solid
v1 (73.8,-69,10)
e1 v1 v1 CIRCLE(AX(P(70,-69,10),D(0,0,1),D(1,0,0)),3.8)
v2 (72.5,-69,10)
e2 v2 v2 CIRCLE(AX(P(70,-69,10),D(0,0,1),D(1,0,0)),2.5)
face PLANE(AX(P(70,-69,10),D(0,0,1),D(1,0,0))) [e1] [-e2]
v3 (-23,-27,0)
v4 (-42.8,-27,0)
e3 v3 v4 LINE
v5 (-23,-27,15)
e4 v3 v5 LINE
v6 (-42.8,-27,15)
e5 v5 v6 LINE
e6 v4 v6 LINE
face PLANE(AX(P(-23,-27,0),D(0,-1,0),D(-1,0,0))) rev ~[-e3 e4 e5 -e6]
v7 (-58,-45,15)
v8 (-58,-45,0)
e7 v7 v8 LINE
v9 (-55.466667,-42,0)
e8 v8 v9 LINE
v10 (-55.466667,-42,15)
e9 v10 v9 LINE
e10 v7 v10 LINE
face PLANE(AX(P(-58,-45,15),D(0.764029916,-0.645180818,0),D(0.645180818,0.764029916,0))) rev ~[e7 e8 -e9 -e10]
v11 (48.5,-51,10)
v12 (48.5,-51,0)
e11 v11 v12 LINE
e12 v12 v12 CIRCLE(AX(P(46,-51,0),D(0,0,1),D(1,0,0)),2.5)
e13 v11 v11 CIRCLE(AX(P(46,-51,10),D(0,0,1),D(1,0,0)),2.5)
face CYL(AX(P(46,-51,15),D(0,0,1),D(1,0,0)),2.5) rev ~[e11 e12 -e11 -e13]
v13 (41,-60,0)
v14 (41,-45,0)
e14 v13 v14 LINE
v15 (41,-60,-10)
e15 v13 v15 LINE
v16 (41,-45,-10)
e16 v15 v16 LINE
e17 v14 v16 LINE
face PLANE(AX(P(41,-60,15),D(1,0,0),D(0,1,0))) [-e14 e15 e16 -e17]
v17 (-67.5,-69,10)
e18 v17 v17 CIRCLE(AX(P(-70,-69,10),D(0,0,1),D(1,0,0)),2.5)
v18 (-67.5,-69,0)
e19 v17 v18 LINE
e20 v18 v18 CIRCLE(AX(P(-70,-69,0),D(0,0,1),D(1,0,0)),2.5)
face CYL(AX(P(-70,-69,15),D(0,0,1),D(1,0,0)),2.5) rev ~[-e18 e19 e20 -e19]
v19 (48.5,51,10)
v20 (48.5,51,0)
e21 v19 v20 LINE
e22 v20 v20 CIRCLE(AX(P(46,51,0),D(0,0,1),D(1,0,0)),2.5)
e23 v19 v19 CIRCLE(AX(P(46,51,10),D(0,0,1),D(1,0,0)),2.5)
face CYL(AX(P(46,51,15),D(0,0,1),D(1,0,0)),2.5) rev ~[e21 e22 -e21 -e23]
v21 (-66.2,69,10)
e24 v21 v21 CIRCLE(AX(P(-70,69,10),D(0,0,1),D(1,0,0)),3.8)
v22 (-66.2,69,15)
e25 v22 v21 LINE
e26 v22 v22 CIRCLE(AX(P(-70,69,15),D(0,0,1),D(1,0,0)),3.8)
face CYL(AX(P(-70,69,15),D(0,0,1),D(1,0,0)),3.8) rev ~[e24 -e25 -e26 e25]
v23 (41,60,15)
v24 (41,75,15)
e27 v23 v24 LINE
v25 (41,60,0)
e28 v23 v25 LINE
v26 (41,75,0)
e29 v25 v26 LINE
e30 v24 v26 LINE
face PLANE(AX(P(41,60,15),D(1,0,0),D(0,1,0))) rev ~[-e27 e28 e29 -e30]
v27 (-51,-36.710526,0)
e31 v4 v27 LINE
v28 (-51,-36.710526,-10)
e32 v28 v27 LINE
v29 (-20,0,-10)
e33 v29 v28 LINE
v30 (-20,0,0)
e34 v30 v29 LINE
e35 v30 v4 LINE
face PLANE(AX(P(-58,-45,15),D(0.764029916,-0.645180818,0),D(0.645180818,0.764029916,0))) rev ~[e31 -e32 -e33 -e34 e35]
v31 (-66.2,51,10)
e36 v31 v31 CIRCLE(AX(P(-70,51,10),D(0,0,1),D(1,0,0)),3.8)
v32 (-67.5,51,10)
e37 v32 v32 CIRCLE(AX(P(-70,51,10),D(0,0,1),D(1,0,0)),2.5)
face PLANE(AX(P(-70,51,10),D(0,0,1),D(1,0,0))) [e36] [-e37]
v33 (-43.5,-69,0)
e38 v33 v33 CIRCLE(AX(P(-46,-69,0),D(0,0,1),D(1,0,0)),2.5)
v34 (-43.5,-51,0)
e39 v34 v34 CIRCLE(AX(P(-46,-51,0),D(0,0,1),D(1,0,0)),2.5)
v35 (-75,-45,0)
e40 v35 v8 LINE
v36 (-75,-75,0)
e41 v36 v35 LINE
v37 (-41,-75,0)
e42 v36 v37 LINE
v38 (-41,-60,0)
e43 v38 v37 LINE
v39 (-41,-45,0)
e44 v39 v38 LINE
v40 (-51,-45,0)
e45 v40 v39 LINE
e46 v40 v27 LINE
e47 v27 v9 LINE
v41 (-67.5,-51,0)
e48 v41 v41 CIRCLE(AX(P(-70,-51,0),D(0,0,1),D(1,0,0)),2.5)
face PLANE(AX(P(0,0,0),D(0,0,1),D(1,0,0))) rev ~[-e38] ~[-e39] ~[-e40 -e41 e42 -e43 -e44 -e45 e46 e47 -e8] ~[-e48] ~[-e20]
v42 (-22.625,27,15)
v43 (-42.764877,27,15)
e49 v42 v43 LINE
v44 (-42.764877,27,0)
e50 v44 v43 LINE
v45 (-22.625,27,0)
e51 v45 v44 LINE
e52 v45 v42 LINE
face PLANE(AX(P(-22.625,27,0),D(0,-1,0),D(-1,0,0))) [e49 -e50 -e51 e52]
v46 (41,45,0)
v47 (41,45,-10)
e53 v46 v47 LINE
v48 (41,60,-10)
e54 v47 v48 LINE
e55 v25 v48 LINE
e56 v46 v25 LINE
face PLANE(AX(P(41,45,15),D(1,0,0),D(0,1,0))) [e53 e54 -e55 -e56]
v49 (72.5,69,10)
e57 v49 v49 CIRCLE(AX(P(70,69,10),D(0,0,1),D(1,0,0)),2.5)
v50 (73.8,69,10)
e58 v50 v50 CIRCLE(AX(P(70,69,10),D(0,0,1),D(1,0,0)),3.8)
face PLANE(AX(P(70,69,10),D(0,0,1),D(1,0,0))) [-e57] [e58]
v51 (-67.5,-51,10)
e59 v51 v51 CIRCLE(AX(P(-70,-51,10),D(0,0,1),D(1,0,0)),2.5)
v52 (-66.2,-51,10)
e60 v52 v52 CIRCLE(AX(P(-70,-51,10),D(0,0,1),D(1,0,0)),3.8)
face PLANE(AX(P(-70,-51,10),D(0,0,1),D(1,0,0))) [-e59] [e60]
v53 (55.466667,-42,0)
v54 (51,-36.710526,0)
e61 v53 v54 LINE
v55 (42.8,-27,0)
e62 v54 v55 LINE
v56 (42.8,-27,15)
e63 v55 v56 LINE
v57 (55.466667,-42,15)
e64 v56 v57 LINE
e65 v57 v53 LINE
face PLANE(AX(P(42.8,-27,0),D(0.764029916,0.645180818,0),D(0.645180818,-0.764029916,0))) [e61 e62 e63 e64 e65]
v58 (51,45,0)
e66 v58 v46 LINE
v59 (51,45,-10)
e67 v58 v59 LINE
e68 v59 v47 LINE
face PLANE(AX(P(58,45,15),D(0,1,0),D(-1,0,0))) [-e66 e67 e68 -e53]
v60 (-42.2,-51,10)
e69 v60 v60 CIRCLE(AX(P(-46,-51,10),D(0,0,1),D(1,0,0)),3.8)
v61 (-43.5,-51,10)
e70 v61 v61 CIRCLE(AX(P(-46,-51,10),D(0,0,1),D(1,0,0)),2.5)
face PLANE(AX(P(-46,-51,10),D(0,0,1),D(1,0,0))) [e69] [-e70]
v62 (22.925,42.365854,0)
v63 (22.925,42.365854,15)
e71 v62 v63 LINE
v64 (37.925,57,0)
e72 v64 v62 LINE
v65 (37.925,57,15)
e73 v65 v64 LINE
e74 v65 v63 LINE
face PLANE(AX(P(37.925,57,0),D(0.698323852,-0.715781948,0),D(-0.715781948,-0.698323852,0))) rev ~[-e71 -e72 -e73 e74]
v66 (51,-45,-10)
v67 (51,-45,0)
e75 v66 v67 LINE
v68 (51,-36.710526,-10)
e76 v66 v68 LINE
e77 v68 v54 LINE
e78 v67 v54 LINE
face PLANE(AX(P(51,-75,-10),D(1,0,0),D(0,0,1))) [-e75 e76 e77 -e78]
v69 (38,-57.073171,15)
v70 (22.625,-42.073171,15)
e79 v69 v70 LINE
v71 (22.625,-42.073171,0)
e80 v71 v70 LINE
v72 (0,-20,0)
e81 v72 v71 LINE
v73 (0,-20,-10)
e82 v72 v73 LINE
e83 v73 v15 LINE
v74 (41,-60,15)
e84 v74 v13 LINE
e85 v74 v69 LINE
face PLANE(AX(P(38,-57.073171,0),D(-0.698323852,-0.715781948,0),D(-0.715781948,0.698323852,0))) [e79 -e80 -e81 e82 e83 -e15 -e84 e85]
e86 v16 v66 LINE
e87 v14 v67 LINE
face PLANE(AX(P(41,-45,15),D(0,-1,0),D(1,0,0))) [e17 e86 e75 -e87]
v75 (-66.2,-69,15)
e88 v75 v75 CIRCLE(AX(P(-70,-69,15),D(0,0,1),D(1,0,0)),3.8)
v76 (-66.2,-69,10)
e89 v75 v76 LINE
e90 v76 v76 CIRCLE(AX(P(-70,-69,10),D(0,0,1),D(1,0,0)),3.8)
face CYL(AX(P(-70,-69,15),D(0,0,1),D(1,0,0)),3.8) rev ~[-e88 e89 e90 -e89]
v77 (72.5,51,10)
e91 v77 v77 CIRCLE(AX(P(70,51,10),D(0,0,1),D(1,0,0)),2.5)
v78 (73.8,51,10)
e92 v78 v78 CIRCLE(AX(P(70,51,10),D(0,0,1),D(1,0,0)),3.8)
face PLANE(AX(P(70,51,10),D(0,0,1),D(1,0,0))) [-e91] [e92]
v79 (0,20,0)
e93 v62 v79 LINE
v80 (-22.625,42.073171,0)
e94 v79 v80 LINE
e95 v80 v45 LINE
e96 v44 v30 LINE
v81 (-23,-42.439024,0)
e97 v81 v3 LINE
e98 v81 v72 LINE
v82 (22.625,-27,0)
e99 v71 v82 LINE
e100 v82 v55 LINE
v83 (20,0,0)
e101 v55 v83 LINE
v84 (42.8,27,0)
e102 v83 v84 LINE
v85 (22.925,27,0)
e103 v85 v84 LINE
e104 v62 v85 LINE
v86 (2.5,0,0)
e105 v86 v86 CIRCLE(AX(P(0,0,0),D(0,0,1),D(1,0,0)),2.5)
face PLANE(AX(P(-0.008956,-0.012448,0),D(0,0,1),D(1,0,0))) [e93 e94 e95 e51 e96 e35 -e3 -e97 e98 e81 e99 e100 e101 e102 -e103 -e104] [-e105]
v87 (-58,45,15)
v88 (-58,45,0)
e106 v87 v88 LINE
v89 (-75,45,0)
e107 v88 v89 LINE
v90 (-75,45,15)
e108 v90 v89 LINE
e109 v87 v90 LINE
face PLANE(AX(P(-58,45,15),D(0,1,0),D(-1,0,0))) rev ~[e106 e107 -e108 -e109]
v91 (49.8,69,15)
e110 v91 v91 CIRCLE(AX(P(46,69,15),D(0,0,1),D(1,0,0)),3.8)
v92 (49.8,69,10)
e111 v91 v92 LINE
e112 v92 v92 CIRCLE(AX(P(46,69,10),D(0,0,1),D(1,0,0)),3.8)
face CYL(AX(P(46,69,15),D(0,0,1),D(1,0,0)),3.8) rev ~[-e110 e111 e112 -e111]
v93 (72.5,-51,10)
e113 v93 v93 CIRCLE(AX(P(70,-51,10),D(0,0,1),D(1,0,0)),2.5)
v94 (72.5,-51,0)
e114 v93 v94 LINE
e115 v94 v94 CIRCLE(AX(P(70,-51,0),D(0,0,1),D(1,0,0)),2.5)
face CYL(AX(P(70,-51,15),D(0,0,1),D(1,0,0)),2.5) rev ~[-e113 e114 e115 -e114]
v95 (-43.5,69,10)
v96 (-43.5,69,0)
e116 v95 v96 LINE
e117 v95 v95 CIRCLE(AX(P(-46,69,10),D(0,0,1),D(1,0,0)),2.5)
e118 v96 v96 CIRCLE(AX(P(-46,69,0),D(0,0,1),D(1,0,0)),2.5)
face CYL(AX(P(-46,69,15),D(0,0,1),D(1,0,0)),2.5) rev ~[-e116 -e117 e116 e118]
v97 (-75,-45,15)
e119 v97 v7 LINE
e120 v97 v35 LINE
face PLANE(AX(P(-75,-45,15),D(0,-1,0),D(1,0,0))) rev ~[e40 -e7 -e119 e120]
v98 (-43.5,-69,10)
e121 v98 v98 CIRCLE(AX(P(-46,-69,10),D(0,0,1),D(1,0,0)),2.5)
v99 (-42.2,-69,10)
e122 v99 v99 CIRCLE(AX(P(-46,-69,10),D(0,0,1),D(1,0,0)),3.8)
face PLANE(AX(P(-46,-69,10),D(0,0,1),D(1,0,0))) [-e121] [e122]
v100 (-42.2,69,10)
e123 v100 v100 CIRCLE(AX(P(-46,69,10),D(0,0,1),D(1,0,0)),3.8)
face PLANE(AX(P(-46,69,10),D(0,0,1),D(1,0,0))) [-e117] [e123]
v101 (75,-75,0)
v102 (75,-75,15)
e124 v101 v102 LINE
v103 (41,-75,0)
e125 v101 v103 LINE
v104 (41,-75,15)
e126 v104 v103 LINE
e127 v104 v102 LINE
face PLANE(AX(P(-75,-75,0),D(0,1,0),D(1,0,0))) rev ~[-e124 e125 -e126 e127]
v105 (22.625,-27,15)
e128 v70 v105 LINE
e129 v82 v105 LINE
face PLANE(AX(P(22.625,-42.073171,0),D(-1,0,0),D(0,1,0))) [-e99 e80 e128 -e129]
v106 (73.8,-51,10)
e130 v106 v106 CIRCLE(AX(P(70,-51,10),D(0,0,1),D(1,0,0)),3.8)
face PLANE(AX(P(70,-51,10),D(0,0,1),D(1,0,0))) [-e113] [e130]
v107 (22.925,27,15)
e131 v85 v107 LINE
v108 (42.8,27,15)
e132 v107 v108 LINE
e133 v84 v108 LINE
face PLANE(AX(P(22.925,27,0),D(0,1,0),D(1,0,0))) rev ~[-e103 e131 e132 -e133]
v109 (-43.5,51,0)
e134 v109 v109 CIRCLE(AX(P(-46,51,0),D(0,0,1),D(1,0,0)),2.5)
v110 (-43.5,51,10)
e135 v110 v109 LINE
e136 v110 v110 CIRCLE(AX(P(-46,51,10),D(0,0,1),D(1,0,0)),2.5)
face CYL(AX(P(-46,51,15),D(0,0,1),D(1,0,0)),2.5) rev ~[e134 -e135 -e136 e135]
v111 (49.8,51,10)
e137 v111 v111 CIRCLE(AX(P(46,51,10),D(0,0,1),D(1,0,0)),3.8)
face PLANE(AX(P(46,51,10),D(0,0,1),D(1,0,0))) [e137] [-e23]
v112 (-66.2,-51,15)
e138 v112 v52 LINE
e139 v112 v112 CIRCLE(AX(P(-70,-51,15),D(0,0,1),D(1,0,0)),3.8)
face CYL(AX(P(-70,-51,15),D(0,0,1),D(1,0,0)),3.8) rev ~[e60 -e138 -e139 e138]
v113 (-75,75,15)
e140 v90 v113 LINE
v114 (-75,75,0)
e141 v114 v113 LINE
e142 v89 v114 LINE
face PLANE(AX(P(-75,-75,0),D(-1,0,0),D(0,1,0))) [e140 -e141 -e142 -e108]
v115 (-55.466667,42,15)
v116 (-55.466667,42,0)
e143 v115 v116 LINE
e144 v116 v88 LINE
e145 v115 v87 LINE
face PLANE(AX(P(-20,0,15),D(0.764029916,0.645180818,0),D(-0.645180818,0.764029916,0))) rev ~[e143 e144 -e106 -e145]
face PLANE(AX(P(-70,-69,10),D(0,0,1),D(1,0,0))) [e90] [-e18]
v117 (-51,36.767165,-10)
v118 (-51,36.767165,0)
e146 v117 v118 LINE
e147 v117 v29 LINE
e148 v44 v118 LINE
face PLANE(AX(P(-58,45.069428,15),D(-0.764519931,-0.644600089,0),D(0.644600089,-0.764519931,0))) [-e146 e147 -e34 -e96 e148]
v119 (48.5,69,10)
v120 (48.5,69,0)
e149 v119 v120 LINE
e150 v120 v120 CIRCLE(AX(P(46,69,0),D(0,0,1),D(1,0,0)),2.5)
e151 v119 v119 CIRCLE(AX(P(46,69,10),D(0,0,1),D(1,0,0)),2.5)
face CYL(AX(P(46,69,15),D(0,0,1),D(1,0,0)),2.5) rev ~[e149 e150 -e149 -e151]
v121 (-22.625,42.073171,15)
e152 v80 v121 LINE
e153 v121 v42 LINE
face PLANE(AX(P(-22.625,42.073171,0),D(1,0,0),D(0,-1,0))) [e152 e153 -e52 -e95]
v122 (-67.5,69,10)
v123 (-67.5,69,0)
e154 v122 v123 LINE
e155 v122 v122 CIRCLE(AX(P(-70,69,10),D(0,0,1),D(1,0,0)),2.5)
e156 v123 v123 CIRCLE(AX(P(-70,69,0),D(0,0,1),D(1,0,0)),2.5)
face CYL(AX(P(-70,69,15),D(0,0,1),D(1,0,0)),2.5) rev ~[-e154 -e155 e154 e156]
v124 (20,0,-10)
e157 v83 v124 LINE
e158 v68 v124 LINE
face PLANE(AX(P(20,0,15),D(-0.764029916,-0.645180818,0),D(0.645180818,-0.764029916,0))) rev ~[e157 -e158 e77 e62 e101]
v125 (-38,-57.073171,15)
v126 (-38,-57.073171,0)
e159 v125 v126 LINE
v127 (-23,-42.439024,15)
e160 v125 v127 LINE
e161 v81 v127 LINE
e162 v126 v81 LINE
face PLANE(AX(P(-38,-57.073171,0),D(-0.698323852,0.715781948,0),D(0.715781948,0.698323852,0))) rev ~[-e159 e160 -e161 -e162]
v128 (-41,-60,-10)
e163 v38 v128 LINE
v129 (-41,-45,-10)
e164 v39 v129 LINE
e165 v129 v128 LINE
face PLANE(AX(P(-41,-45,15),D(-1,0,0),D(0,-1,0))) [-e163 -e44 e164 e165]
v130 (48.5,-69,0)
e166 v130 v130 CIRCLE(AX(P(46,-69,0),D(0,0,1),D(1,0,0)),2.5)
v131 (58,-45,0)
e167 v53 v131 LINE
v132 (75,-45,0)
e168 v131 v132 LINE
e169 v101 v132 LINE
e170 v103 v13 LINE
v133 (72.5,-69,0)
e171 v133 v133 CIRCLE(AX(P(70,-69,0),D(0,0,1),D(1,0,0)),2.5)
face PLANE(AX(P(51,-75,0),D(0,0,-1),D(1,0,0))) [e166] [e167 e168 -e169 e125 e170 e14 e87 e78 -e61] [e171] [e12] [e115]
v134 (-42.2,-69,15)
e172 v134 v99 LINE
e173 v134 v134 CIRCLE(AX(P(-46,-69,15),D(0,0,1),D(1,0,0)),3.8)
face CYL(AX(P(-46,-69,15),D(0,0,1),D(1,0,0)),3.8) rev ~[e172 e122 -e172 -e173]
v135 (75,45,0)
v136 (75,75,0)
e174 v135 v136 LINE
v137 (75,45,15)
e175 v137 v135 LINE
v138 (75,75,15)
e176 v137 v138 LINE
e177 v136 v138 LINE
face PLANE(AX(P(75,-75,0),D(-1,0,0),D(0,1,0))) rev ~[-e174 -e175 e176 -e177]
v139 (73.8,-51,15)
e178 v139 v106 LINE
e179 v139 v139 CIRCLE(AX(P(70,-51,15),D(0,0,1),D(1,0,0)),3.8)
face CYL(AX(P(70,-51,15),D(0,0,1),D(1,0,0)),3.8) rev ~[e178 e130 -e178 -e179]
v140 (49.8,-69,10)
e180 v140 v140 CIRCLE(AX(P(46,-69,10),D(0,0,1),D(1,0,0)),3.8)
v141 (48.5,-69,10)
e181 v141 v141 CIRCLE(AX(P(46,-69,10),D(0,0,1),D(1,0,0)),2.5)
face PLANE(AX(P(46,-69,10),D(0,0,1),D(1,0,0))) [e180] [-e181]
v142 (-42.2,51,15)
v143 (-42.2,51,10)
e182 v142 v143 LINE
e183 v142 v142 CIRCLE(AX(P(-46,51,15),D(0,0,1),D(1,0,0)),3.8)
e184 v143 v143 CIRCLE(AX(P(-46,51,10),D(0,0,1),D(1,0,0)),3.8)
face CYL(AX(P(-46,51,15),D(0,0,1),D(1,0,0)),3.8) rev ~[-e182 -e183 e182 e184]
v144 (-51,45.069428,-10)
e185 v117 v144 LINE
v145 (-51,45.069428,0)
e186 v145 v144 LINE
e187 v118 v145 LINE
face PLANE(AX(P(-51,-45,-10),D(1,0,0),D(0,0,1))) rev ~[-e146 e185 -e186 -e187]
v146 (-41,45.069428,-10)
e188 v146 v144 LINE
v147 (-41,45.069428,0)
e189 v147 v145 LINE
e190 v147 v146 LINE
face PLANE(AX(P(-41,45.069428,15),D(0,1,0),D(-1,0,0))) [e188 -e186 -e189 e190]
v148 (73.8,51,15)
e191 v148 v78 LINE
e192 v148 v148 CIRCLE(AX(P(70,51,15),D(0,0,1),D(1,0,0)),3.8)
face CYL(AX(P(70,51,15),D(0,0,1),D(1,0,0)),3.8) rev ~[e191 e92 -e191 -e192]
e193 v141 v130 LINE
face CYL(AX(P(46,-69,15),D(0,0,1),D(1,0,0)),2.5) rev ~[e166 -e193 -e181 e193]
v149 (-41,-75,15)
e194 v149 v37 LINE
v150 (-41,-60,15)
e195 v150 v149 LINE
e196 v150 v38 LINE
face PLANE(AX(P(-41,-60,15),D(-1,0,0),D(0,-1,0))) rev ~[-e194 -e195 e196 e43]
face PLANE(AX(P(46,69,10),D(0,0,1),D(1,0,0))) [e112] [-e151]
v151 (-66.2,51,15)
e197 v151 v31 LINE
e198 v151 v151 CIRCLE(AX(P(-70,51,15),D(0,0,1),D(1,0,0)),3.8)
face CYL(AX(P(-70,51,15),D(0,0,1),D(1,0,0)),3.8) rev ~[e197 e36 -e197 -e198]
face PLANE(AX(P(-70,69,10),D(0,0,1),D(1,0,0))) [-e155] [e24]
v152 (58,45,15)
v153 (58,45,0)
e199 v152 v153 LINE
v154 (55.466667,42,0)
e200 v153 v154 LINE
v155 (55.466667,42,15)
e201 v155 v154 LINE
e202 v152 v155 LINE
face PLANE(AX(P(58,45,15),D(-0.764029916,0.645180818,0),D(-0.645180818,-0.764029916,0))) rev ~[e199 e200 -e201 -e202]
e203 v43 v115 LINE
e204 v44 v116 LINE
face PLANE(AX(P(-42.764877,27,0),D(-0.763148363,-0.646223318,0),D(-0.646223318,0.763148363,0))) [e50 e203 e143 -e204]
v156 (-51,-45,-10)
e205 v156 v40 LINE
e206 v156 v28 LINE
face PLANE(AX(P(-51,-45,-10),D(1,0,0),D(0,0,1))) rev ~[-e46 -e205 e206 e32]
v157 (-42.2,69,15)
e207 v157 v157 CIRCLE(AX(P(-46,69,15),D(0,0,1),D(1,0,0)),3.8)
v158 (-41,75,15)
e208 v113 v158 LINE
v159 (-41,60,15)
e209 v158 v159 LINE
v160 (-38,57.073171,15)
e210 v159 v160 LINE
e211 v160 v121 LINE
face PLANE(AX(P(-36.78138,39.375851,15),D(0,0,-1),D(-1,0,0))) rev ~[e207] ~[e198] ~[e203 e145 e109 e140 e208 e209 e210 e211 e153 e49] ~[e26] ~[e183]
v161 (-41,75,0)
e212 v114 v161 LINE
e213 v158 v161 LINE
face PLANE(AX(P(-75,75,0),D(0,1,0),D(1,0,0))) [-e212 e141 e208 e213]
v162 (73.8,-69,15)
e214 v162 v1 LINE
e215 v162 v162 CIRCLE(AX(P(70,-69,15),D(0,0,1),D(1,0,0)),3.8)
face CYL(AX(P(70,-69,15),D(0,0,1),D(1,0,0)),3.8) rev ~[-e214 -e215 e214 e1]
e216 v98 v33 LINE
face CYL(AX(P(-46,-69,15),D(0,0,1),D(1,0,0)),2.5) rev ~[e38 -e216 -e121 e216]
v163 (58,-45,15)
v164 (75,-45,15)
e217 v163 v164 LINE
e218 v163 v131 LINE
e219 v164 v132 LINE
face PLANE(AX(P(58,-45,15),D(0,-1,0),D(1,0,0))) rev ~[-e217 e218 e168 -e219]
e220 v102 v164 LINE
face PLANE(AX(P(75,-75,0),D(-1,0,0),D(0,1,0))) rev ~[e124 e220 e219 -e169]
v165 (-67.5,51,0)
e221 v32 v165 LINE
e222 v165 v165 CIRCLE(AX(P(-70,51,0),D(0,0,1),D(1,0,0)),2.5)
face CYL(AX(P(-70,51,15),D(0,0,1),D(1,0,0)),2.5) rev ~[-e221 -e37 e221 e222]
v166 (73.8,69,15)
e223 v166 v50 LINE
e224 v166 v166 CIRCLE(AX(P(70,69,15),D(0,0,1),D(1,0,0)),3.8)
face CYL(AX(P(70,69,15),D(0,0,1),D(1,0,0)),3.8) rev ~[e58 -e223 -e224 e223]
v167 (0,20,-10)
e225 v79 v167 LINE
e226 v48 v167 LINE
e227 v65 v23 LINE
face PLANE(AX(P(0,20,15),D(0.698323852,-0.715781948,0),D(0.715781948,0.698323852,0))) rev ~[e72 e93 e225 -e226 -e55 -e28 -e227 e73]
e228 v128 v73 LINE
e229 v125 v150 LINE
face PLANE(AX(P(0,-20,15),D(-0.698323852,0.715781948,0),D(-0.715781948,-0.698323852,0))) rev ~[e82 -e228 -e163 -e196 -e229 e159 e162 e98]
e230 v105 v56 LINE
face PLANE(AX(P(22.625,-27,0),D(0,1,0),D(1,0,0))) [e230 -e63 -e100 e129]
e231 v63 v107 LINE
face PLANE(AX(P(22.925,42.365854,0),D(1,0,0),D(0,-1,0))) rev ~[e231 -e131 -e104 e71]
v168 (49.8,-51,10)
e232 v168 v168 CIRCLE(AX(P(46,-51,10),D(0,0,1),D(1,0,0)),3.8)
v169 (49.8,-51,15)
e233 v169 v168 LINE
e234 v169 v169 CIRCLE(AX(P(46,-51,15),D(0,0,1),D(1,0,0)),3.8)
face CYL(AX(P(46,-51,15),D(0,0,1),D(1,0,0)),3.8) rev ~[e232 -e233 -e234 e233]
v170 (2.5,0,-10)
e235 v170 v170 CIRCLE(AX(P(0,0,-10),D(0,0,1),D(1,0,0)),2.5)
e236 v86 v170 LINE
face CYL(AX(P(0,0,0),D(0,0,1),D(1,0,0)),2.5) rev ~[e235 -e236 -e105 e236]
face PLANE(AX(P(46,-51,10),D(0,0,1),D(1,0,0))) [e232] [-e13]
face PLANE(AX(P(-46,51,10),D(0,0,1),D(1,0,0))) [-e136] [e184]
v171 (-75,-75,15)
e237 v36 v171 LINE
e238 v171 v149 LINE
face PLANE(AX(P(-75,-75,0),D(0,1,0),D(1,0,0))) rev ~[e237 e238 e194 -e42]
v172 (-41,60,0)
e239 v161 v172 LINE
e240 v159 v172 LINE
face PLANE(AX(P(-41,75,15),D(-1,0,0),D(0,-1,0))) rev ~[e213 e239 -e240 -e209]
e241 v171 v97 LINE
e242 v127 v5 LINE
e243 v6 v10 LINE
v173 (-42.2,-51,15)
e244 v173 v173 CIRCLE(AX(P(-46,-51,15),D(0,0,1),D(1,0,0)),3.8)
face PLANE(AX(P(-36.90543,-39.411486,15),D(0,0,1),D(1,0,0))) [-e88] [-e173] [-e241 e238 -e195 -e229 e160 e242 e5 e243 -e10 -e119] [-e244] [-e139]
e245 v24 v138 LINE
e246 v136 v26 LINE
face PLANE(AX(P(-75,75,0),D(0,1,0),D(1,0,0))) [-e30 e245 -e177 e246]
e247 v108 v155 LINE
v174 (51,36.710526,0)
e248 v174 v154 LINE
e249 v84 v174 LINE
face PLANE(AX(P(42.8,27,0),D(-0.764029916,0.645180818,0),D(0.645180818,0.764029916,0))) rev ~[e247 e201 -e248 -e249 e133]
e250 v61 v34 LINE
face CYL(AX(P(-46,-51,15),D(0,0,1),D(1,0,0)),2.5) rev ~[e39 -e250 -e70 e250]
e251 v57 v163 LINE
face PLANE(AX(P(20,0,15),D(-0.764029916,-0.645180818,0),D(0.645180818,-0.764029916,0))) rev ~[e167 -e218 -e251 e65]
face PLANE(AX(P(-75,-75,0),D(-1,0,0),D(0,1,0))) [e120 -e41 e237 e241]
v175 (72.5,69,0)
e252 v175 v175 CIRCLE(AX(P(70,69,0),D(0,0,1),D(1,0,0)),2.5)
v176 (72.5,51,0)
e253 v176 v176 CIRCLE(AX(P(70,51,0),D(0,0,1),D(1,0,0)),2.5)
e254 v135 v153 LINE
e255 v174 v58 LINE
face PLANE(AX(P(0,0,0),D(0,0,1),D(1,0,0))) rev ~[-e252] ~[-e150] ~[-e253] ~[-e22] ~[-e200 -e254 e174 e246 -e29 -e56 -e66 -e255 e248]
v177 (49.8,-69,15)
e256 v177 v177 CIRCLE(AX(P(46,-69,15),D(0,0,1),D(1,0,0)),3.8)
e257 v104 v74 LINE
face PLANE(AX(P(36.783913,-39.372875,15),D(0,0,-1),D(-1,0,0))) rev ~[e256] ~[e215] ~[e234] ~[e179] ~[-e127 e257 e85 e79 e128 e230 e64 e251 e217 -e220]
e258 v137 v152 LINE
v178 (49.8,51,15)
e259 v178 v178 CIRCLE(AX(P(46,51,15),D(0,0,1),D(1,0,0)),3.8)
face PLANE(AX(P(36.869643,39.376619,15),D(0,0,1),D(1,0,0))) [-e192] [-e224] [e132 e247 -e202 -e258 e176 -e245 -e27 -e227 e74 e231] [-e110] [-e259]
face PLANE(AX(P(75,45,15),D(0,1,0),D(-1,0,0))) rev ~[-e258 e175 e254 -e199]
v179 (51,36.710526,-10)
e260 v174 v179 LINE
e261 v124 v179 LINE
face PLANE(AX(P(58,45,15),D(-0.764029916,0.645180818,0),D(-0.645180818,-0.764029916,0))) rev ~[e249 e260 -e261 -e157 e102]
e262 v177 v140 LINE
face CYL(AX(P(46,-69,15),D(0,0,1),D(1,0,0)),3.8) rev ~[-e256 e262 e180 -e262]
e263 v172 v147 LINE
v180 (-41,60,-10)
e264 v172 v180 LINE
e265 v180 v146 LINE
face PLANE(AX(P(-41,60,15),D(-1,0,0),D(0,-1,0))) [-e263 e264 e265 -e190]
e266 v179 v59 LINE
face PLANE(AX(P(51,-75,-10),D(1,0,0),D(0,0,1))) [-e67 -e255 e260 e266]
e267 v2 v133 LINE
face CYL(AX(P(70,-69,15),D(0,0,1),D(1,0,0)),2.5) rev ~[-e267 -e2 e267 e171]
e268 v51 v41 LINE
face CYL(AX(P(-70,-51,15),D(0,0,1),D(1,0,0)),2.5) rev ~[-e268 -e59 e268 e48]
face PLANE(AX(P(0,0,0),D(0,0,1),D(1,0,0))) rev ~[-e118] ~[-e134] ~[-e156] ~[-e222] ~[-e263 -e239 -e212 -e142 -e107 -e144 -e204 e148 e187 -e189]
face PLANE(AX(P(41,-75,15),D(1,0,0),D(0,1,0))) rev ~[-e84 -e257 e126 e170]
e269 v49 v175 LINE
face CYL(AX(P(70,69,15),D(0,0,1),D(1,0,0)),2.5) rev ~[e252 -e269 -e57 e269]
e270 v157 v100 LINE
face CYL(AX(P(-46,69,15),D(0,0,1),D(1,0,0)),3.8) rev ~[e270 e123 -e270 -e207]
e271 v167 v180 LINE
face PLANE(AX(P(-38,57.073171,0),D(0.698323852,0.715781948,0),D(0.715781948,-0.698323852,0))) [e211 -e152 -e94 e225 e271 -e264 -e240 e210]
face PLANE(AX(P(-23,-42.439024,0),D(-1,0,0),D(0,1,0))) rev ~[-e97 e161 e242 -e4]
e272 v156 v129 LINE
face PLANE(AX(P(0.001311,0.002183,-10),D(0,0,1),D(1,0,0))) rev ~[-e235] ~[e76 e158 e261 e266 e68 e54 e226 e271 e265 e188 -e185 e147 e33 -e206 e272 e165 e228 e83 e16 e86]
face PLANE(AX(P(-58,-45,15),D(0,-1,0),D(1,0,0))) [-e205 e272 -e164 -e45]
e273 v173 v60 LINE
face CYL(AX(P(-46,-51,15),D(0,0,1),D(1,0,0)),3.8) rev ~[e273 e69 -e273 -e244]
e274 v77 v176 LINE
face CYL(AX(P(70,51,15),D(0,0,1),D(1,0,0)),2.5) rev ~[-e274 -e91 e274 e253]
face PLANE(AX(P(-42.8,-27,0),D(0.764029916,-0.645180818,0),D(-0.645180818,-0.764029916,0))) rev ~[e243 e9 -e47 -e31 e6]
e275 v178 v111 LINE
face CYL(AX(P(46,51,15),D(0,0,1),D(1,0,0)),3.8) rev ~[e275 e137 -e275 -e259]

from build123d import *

# Parameters (mm, degrees)
SKETCH1_W           = 150
SKETCH1_H           = 150
BOSS_EXTRUDE1_DEPTH = 15
CUT_EXTRUDE1_DEPTH  = 15
BOSS_EXTRUDE2_DEPTH = 25
CUT_EXTRUDE2_DEPTH  = 15
SKETCH5_R           = 2.5
CUT_EXTRUDE3_DEPTH  = 15
SKETCH7_R           = 2.5
CUT_EXTRUDE4_DEPTH  = 15
SKETCH8_R           = 3.8
CUT_EXTRUDE5_DEPTH  = 5
SKETCH10_R          = 2.5
CUT_EXTRUDE6_DEPTH  = 26
SKETCH11_R          = 3.8
CUT_EXTRUDE7_DEPTH  = 5
SKETCH12_R          = 2.5
CUT_EXTRUDE8_DEPTH  = 26
SKETCH13_R          = 3.8
CUT_EXTRUDE9_DEPTH  = 5
SKETCH14_R          = 2.5
CUT_EXTRUDE10_DEPTH = 26
SKETCH15_R          = 3.8
CUT_EXTRUDE11_DEPTH = 5
BOSS_EXTRUDE3_DEPTH = 15
BOSS_EXTRUDE4_DEPTH = 15
BOSS_EXTRUDE5_DEPTH = 15
BOSS_EXTRUDE6_DEPTH = 15
SKETCH20_W          = 7
SKETCH20_H          = 10
CUT_EXTRUDE12_DEPTH = 151
SKETCH21_W          = 7
SKETCH21_H          = 10
CUT_EXTRUDE13_DEPTH = 121


with BuildPart() as part:
    # Sketch1 → Boss-Extrude1 (new body)
    with BuildSketch(Plane.XY):
        Rectangle(SKETCH1_W, SKETCH1_H)
    extrude(amount=BOSS_EXTRUDE1_DEPTH)

    # Sketch2 → Cut-Extrude1 (cut)
    with BuildSketch(Plane.XY.offset(15)):
        Polygon((-41, 75), (-41, 60), (0, 20), (41, 60), (41, 75), align=None)
        Polygon((-20, 0), (-58, 45), (-75, 45), (-75, -45), (-58, -45), align=None)
        Polygon((58, 45), (20, 0), (58, -45), (75, -45), (75, 45), align=None)
        Polygon((41, -60), (0, -20), (-41, -60), (-41, -75), (41, -75), align=None)
    extrude(amount=-CUT_EXTRUDE1_DEPTH, mode=Mode.SUBTRACT)

    # Sketch3 → Boss-Extrude2 (add)
    with BuildSketch(Plane.XY.offset(15)):
        Polygon((-41, 45.069428085), (-58, 45.069428085), (-20, 0), (-58, -45), (-41, -45), (-41, -60), (0, -20), (41, -60), (41, -45), (58, -45), (20, 0), (58, 45), (41, 45), (41, 60), (0, 20), (-41, 60), align=None)
    extrude(amount=-BOSS_EXTRUDE2_DEPTH)

    # Sketch4 → Cut-Extrude2 (cut)
    with BuildSketch(Plane.XY.offset(15)):
        Polygon((-38, -42), (-38, -57.073170732), (0, -20), (38, -57.073170732), (38, -42), (55.466666667, -42), (20, 0), (55.466666667, 42), (37.925, 42), (37.925, 57), (0, 20), (-37.220661316, 56.312840308), (-37.426275475, 56.513439488), (-38, 57.073170732), (-38, 42), (-55.466666667, 42), (-20, 0), (-55.466666667, -42), align=None)
    extrude(amount=-CUT_EXTRUDE2_DEPTH, mode=Mode.SUBTRACT)

    # Sketch5 → Cut-Extrude3 (cut)
    with BuildSketch(Plane.XY):
        Circle(SKETCH5_R)
    extrude(amount=-CUT_EXTRUDE3_DEPTH, mode=Mode.SUBTRACT)

    # Sketch7 → Cut-Extrude4 (cut)
    with BuildSketch(Plane.XY.offset(15)):
        with Locations((70, -51)):
            Circle(SKETCH7_R)
        with Locations((46, -51)):
            Circle(SKETCH7_R)
        with Locations((46, -69)):
            Circle(SKETCH7_R)
        with Locations((70, -69)):
            Circle(SKETCH7_R)
    extrude(amount=-CUT_EXTRUDE4_DEPTH, mode=Mode.SUBTRACT)

    # Sketch8 → Cut-Extrude5 (cut)
    with BuildSketch(Plane.XY.offset(15)):
        with Locations((46, -51)):
            Circle(SKETCH8_R)
        with Locations((70, -51)):
            Circle(SKETCH8_R)
        with Locations((70, -69)):
            Circle(SKETCH8_R)
        with Locations((46, -69)):
            Circle(SKETCH8_R)
    extrude(amount=-CUT_EXTRUDE5_DEPTH, mode=Mode.SUBTRACT)

    # Sketch10 → Cut-Extrude6 (cut, through all)
    with BuildSketch(Plane.XY.offset(15)):
        with Locations((-46, -69)):
            Circle(SKETCH10_R)
        with Locations((-46, -51)):
            Circle(SKETCH10_R)
        with Locations((-70, -51)):
            Circle(SKETCH10_R)
        with Locations((-70, -69)):
            Circle(SKETCH10_R)
    extrude(amount=-CUT_EXTRUDE6_DEPTH, mode=Mode.SUBTRACT)

    # Sketch11 → Cut-Extrude7 (cut)
    with BuildSketch(Plane.XY.offset(15)):
        with Locations((-70, -51)):
            Circle(SKETCH11_R)
        with Locations((-46, -51)):
            Circle(SKETCH11_R)
        with Locations((-70, -69)):
            Circle(SKETCH11_R)
        with Locations((-46, -69)):
            Circle(SKETCH11_R)
    extrude(amount=-CUT_EXTRUDE7_DEPTH, mode=Mode.SUBTRACT)

    # Sketch12 → Cut-Extrude8 (cut, through all)
    with BuildSketch(Plane.XY.offset(15)):
        with Locations((46, 69)):
            Circle(SKETCH12_R)
        with Locations((70, 69)):
            Circle(SKETCH12_R)
        with Locations((70, 51)):
            Circle(SKETCH12_R)
        with Locations((46, 51)):
            Circle(SKETCH12_R)
    extrude(amount=-CUT_EXTRUDE8_DEPTH, mode=Mode.SUBTRACT)

    # Sketch13 → Cut-Extrude9 (cut)
    with BuildSketch(Plane.XY.offset(15)):
        with Locations((70, 69)):
            Circle(SKETCH13_R)
        with Locations((46, 69)):
            Circle(SKETCH13_R)
        with Locations((46, 51)):
            Circle(SKETCH13_R)
        with Locations((70, 51)):
            Circle(SKETCH13_R)
    extrude(amount=-CUT_EXTRUDE9_DEPTH, mode=Mode.SUBTRACT)

    # Sketch14 → Cut-Extrude10 (cut, through all)
    with BuildSketch(Plane.XY.offset(15)):
        with Locations((-70, 69)):
            Circle(SKETCH14_R)
        with Locations((-46, 69)):
            Circle(SKETCH14_R)
        with Locations((-46, 51)):
            Circle(SKETCH14_R)
        with Locations((-70, 51)):
            Circle(SKETCH14_R)
    extrude(amount=-CUT_EXTRUDE10_DEPTH, mode=Mode.SUBTRACT)

    # Sketch15 → Cut-Extrude11 (cut)
    with BuildSketch(Plane.XY.offset(15)):
        with Locations((-70, 69)):
            Circle(SKETCH15_R)
        with Locations((-46, 69)):
            Circle(SKETCH15_R)
        with Locations((-46, 51)):
            Circle(SKETCH15_R)
        with Locations((-70, 51)):
            Circle(SKETCH15_R)
    extrude(amount=-CUT_EXTRUDE11_DEPTH, mode=Mode.SUBTRACT)

    # Sketch16 → Boss-Extrude3 (add)
    with BuildSketch(Plane.XY):
        Polygon((-38, -57.073170732), (-23, -42.43902439), (-23, -27), (-42.8, -27), (-55.466666667, -42), (-38, -42), align=None)
    extrude(amount=BOSS_EXTRUDE3_DEPTH)

    # Sketch17 → Boss-Extrude4 (add)
    with BuildSketch(Plane.XY):
        Polygon((38, -57.073170732), (22.625, -42.073170732), (22.625, -27), (42.8, -27), (55.466666667, -42), (38, -42), align=None)
    extrude(amount=BOSS_EXTRUDE4_DEPTH)

    # Sketch18 → Boss-Extrude5 (add)
    with BuildSketch(Plane.XY):
        Polygon((37.925, 57), (22.925, 42.365853659), (22.925, 27), (42.8, 27), (55.466666667, 42), (37.925, 42), align=None)
    extrude(amount=BOSS_EXTRUDE5_DEPTH)

    # Sketch19 → Boss-Extrude6 (add)
    with BuildSketch(Plane.XY):
        Polygon((-38, 57.073170732), (-22.625, 42.073170732), (-22.625, 27), (-42.764877292, 27), (-55.466666667, 42), (-38, 42), align=None)
    extrude(amount=BOSS_EXTRUDE6_DEPTH)

    # Sketch20 → Cut-Extrude12 (cut, through all)
    with BuildSketch(Plane.XZ.offset(75)):
        with Locations((54.5, -5)):
            Rectangle(SKETCH20_W, SKETCH20_H)
    extrude(amount=-CUT_EXTRUDE12_DEPTH, mode=Mode.SUBTRACT)

    # Sketch21 → Cut-Extrude13 (cut, through all)
    with BuildSketch(Plane.XZ.offset(45)):
        with Locations((-54.5, -5)):
            Rectangle(SKETCH21_W, SKETCH21_H)
    extrude(amount=-CUT_EXTRUDE13_DEPTH, mode=Mode.SUBTRACT)


solid = part.part
